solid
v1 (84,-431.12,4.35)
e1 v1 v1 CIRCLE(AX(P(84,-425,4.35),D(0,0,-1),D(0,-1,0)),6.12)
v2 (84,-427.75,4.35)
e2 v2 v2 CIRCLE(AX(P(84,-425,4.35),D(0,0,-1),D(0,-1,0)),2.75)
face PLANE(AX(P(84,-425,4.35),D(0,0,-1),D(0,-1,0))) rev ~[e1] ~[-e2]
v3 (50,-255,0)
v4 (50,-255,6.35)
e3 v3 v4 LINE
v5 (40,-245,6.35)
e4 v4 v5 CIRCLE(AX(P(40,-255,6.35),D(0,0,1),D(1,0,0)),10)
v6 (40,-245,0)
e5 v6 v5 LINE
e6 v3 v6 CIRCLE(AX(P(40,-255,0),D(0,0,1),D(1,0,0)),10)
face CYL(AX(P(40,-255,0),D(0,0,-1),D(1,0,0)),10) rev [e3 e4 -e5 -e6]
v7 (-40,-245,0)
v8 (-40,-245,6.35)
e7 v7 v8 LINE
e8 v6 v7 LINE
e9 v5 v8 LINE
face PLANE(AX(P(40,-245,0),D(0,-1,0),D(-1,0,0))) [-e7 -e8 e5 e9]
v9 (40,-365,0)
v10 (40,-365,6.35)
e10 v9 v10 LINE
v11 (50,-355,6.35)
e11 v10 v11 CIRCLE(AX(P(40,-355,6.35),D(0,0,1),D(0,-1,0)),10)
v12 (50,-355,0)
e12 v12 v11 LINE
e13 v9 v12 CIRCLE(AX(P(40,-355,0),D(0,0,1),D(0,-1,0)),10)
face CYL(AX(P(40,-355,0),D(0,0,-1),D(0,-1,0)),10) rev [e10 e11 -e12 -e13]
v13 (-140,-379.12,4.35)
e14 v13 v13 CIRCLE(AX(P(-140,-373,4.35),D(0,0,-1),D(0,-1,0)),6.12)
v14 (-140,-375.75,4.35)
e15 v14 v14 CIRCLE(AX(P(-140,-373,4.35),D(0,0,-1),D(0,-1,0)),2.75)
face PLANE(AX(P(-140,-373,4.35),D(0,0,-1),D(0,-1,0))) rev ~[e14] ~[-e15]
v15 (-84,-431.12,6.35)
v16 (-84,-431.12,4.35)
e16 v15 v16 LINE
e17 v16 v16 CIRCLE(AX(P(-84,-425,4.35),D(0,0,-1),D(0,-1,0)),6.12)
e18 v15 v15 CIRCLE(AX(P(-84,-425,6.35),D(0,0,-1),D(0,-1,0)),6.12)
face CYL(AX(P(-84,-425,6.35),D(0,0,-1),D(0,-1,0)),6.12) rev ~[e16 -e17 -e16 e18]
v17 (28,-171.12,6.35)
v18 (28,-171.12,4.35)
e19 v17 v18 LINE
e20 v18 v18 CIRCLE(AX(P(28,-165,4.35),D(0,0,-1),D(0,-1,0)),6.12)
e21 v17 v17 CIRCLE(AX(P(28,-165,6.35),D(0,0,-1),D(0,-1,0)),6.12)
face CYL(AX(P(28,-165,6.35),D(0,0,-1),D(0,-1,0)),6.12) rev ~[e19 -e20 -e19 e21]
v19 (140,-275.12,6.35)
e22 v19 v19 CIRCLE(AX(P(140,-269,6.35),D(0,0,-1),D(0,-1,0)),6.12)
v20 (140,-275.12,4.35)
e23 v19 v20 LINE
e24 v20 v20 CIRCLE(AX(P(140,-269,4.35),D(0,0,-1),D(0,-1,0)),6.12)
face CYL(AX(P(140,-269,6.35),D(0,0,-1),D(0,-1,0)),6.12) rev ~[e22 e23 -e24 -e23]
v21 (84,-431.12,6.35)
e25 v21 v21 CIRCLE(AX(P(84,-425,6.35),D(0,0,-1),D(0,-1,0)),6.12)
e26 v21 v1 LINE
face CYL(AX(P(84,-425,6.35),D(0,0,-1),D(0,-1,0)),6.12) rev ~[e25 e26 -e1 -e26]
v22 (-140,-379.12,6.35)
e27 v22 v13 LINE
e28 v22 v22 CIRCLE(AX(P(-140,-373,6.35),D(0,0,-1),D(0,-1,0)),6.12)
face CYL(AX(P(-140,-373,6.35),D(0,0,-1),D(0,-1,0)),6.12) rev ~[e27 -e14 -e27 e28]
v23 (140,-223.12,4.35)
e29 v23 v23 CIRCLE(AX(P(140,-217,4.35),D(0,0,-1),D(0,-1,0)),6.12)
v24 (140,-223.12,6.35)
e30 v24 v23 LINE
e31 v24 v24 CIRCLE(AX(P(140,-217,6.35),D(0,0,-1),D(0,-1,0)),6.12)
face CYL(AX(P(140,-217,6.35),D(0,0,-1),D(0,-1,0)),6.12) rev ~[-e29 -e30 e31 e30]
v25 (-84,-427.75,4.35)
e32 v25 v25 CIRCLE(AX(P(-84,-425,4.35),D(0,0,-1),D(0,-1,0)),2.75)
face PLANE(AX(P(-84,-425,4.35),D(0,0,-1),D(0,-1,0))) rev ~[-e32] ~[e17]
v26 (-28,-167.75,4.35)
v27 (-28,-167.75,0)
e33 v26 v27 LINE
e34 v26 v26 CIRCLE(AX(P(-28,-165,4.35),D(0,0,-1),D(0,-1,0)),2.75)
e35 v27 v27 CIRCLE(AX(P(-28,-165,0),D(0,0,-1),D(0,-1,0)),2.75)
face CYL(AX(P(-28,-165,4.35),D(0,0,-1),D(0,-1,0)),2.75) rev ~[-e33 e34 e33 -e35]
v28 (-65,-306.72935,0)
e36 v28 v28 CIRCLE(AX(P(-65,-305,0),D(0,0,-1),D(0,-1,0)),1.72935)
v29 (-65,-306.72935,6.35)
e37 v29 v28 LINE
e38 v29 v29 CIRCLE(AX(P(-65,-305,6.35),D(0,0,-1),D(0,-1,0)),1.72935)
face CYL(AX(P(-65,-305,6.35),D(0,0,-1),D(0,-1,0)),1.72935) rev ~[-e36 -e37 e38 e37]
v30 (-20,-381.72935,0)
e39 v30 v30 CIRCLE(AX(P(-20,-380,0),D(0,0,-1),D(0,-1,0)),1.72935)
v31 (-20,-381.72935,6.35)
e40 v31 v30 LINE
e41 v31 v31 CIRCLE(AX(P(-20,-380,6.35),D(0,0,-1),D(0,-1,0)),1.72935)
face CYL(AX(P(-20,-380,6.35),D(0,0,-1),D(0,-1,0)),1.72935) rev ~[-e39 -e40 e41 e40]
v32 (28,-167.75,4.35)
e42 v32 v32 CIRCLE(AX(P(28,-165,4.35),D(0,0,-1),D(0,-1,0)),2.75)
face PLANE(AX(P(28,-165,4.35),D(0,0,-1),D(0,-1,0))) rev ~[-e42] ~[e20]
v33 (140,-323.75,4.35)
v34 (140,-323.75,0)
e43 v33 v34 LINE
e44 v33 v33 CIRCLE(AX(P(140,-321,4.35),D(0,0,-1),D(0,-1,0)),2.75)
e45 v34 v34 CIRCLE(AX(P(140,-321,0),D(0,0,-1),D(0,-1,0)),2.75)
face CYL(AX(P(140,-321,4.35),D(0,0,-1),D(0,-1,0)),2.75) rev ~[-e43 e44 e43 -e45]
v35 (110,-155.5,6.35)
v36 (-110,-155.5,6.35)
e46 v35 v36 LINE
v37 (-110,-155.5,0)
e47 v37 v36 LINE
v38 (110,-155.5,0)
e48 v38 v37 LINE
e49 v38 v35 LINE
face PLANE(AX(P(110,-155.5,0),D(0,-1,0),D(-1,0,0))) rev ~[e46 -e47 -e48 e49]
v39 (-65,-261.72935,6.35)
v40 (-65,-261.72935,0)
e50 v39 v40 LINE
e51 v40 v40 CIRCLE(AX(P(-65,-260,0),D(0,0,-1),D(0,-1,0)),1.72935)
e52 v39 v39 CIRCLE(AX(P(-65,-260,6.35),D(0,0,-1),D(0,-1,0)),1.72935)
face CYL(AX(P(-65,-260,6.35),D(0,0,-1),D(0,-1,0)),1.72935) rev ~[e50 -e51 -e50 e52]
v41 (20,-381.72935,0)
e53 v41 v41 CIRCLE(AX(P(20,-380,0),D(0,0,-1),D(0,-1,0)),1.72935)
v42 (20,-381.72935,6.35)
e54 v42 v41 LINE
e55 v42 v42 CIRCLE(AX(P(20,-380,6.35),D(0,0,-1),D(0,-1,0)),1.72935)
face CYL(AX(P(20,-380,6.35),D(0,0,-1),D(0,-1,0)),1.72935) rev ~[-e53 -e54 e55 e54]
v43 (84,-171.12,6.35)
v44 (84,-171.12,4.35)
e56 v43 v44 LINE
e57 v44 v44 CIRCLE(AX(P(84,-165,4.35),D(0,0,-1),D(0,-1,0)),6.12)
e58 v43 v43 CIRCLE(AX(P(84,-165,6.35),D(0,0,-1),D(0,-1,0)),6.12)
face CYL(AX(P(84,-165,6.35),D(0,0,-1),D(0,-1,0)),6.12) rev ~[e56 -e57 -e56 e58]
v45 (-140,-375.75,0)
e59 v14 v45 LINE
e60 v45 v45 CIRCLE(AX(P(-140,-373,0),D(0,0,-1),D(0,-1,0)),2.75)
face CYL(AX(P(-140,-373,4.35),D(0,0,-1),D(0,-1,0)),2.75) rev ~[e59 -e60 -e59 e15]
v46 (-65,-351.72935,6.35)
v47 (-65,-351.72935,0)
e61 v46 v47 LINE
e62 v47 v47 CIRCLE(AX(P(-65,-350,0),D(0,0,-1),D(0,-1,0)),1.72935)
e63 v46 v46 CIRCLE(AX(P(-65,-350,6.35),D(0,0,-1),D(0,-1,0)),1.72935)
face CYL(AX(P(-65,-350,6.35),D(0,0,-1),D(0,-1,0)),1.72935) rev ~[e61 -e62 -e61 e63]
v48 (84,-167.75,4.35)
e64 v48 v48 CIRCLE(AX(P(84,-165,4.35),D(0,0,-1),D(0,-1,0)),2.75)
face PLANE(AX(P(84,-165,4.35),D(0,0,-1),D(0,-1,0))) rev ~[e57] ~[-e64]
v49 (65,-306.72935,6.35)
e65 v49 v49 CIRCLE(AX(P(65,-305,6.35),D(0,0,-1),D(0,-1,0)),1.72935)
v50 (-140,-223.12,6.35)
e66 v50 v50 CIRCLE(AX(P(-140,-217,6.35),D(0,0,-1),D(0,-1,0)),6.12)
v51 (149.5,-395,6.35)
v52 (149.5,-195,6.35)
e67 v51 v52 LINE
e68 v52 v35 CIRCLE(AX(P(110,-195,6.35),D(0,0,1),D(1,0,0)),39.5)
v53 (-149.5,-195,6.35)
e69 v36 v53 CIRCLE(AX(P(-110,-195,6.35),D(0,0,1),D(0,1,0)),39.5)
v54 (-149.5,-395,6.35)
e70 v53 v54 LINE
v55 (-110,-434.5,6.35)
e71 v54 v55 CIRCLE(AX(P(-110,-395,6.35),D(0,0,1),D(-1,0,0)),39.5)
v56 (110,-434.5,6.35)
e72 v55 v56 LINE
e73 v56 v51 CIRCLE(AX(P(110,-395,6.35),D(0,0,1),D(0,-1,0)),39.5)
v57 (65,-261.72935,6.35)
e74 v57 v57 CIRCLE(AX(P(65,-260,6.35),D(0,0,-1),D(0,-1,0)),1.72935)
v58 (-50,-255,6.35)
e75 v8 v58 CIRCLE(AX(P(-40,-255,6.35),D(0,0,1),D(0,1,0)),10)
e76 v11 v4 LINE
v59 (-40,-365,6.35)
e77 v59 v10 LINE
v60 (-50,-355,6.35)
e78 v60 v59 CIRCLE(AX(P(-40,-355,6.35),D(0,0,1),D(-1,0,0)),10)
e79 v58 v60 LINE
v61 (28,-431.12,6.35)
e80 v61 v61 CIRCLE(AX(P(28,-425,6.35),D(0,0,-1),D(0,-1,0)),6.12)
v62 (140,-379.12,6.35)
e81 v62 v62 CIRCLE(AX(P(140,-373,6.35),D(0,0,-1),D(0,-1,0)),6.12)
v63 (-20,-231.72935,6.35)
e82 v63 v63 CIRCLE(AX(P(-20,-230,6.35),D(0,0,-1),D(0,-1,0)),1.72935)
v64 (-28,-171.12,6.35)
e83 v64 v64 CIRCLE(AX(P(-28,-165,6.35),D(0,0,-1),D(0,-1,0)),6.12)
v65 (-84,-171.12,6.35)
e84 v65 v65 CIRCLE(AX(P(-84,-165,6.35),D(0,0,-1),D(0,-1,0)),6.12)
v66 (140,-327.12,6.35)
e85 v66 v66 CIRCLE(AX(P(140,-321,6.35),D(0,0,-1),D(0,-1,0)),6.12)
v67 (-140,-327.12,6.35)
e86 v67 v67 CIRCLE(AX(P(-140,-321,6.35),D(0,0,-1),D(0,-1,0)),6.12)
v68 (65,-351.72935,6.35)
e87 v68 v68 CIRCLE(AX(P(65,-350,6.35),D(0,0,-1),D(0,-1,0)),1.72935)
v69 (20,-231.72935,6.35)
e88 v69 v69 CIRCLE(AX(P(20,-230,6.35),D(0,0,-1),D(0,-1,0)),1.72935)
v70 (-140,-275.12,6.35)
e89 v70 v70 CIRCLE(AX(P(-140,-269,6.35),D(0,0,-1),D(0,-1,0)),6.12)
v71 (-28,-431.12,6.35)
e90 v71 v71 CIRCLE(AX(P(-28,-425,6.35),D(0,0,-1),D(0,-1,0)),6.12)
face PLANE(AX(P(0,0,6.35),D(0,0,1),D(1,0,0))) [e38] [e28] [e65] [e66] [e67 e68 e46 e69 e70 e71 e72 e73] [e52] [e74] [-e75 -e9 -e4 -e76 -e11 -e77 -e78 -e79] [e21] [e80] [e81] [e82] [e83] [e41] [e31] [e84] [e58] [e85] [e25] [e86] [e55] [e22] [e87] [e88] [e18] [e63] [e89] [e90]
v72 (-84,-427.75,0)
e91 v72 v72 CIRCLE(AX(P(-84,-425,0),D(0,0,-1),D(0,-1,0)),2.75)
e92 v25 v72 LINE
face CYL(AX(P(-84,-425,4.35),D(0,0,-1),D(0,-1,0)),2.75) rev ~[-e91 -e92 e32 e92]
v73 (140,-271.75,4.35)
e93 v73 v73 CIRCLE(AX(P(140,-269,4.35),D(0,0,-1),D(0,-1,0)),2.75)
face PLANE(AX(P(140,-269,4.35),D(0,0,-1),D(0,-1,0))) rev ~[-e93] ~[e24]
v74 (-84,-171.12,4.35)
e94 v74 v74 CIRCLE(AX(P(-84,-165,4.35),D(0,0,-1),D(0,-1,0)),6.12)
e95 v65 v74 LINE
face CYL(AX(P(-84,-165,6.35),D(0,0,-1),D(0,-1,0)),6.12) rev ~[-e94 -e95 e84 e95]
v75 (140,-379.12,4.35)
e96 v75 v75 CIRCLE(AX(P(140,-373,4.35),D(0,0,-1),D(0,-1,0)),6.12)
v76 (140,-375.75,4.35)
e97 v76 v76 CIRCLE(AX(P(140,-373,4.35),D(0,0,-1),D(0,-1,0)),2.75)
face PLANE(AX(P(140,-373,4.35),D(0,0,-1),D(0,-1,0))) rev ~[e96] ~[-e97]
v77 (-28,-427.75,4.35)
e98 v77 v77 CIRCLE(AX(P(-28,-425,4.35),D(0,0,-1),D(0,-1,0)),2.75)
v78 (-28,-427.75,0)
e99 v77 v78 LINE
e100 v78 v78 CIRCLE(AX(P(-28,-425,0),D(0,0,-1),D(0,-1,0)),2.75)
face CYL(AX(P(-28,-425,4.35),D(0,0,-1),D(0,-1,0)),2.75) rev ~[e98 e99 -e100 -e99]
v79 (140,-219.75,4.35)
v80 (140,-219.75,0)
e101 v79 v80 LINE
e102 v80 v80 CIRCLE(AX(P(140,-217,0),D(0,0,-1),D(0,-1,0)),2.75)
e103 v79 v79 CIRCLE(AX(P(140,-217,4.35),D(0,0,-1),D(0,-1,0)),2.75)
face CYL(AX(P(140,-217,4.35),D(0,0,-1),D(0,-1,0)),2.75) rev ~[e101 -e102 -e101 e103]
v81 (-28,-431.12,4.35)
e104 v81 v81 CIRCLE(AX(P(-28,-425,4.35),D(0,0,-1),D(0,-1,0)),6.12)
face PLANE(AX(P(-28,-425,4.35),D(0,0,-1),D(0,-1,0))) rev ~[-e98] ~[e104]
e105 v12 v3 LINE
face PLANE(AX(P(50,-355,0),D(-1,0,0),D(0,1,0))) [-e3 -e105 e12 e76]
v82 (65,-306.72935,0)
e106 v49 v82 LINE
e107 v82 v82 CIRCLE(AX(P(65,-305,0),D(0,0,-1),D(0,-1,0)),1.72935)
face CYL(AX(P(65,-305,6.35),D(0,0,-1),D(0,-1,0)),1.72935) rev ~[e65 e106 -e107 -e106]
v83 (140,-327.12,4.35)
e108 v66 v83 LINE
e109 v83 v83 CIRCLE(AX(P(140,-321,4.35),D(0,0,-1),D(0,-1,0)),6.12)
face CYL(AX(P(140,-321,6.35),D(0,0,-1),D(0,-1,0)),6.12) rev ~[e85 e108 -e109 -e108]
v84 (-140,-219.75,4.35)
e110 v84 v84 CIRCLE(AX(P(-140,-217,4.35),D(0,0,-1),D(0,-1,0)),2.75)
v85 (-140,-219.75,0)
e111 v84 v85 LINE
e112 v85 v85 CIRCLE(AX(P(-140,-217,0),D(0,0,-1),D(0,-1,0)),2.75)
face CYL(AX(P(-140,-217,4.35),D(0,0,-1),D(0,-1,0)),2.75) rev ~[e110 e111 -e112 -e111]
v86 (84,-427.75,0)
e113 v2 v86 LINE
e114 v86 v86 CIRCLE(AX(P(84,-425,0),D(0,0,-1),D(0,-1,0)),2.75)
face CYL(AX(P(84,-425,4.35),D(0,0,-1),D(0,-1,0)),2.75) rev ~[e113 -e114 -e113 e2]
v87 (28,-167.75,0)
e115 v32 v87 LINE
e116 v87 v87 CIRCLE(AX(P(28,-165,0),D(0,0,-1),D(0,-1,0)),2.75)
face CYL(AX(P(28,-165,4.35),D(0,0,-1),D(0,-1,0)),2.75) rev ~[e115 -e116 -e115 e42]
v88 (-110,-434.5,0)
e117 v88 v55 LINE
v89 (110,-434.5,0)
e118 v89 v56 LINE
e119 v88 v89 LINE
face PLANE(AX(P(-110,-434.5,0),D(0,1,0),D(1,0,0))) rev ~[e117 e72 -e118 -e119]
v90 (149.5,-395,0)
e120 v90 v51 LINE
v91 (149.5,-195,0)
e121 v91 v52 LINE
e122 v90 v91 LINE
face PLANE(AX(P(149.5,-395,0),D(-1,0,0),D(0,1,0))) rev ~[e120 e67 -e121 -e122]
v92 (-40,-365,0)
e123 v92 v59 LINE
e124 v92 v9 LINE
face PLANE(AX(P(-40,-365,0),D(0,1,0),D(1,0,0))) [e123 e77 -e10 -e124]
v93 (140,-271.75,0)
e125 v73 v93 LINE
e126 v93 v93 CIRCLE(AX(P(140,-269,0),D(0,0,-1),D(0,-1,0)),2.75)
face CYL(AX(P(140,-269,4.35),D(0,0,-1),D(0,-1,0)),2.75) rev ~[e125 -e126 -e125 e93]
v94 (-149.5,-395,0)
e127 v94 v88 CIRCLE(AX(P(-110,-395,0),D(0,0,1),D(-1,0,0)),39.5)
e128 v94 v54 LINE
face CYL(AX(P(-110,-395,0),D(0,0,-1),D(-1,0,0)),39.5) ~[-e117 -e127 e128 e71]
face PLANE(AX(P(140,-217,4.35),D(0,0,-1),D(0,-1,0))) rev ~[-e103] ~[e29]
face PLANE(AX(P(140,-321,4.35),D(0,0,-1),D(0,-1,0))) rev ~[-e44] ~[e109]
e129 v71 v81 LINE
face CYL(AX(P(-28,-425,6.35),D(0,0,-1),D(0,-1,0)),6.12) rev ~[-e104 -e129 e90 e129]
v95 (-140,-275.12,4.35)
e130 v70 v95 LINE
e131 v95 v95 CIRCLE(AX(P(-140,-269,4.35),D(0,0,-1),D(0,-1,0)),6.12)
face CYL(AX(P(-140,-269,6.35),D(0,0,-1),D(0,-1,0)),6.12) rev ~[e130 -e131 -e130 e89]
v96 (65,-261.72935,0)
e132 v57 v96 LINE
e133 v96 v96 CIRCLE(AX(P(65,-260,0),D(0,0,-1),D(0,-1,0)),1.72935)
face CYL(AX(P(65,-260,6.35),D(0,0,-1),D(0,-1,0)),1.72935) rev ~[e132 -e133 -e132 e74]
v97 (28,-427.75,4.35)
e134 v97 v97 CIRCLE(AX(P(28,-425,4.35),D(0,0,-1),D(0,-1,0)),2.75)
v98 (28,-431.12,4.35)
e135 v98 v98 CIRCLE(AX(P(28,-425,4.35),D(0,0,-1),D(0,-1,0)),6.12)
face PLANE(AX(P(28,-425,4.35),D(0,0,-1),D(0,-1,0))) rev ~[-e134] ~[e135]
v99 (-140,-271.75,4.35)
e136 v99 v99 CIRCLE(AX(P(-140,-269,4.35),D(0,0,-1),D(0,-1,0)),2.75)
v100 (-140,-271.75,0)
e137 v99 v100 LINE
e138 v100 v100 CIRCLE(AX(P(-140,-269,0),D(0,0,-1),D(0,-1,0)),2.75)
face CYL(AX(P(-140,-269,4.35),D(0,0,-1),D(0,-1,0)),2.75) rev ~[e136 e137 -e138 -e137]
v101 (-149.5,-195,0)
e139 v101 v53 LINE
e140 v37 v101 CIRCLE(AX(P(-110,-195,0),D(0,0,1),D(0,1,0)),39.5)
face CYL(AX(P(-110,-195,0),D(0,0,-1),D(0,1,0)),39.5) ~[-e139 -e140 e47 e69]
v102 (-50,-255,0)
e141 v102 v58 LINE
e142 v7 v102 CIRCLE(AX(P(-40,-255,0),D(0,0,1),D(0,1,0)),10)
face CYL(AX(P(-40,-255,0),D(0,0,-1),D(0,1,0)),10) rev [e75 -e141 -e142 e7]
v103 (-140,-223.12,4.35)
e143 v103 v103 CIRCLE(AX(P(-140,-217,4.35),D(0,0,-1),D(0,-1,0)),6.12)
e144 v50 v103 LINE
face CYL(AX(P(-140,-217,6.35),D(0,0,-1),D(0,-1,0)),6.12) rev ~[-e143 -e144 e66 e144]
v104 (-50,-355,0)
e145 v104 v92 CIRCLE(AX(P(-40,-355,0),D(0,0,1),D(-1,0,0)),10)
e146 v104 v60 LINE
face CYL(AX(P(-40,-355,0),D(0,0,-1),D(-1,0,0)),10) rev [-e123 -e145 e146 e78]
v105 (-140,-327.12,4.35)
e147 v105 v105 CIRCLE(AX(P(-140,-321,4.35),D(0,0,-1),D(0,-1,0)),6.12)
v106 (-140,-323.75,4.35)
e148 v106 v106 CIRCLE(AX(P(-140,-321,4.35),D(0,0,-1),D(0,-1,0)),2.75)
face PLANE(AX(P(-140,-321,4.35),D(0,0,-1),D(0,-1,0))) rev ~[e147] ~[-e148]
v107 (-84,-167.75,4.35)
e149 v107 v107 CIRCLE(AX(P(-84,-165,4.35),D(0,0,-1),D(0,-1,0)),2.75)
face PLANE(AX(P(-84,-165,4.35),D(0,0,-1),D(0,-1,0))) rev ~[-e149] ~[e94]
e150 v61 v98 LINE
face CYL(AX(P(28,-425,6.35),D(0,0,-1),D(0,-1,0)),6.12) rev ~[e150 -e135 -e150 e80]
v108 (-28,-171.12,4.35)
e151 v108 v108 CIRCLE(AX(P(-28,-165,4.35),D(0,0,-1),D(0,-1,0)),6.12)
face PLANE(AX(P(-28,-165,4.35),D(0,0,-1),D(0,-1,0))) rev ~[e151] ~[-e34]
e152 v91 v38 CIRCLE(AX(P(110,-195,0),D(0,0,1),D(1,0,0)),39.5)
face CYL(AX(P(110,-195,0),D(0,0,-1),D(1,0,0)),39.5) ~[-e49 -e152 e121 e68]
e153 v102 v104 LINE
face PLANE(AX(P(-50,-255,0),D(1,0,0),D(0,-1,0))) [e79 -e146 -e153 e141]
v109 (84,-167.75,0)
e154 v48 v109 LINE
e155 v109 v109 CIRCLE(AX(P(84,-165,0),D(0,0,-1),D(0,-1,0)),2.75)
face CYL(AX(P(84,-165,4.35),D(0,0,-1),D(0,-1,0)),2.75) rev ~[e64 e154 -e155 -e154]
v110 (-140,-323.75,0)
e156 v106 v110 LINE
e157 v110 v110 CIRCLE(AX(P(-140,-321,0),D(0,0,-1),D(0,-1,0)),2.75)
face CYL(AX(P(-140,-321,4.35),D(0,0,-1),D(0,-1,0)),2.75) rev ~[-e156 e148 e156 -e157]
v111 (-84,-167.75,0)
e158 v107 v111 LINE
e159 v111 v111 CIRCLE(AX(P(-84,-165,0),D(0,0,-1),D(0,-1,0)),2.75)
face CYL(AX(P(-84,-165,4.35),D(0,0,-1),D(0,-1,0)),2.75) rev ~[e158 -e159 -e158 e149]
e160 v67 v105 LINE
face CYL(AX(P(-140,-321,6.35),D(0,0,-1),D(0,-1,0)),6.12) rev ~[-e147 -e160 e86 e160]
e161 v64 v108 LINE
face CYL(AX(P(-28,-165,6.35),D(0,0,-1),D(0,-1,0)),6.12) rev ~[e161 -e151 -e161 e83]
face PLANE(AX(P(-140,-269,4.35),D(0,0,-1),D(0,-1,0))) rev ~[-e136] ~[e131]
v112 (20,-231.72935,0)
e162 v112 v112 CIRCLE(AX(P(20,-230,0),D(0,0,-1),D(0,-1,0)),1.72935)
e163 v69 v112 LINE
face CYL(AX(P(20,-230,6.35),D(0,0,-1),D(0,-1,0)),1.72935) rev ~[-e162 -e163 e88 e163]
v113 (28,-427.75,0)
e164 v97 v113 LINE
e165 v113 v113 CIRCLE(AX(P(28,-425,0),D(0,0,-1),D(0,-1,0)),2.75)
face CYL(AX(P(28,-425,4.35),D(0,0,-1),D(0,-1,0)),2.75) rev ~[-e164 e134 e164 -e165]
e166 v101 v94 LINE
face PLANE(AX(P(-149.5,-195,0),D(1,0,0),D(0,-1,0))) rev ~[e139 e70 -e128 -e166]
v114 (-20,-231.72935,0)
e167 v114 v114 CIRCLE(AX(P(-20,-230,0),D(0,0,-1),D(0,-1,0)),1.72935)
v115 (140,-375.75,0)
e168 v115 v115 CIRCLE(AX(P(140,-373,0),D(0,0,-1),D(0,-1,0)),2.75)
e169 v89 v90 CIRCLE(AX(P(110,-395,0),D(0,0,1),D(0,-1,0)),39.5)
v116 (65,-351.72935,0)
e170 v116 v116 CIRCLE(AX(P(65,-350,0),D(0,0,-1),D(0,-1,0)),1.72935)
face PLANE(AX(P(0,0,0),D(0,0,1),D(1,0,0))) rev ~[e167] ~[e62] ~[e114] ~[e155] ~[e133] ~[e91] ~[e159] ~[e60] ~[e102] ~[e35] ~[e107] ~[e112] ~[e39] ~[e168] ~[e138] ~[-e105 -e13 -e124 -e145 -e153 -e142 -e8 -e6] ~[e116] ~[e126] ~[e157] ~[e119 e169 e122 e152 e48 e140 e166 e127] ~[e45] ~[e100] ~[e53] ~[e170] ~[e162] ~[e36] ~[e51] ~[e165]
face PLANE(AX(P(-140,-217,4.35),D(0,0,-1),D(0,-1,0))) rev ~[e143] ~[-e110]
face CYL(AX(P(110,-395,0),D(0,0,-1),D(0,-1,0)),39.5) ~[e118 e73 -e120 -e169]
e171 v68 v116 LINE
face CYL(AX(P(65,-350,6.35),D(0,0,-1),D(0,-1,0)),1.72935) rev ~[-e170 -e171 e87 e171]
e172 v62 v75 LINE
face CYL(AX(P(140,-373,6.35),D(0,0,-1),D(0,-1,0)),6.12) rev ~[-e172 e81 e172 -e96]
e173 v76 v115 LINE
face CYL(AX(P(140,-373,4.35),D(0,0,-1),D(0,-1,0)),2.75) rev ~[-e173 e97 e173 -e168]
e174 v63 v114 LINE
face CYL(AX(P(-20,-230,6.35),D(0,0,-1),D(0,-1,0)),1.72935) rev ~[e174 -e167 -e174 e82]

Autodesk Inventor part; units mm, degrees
ref_plane "YZ Plane" through (0, 0, 0) normal (1, 0, 0) x (0, 1, 0)
ref_plane "XZ Plane" through (0, 0, 0) normal (0, 1, 0) x (-1, 0, 0)
ref_plane "Work Plane2" through (0, 0, 0) normal (0, 0, 1) x (1, 0, 0)
sketch "Sketch1" plane through (0, 0, 0) normal (0, 0, 1) x (1, 0, 0)
  line L0 (180, 126) -> (180, 200) projected
  arc A0 (180, 200) -> (175, 205) centre (175, 200) ccw projected
  line L1 (175, 205) -> (-174, 205) projected
  line L2 (-174, -368) -> (-174, 205) projected
  line L3 (-156, -368) -> (-174, -368) projected
  arc A1 (-153, -371) -> (-156, -368) centre (-156, -371) ccw projected
  line L4 (-153, -403) -> (-153, -371) projected
  arc A2 (-156, -406) -> (-153, -403) centre (-156, -403) ccw projected
  line L5 (-180, -406) -> (-156, -406) projected
  line L6 (-180, -406) -> (-180, -480) projected
  arc A3 (-180, -480) -> (-175, -485) centre (-175, -480) ccw projected
  line L7 (-175, -485) -> (174, -485) projected
  line L8 (174, 88) -> (174, -485) projected
  line L9 (156, 88) -> (174, 88) projected
  arc A4 (153, 91) -> (156, 88) centre (156, 91) ccw projected
  line L10 (153, 123) -> (153, 91) projected
  arc A5 (156, 126) -> (153, 123) centre (156, 123) ccw projected
  line L11 (180, 126) -> (156, 126) projected
  circle A6 centre (0, 0) radius 135 projected
  circle A7 centre (82.55, 185) radius 3 projected
  circle A8 centre (-82.55, 185) radius 3 projected
  circle A9 centre (82.55, -460) radius 3 projected
  circle A10 centre (-82.55, -460) radius 3 projected
  line L12 (-149.5, -195) -> (-149.5, -395)
  arc A11 (-149.5, -395) -> (-110, -434.5) centre (-110, -395) ccw
  line L13 (-110, -434.5) -> (110, -434.5)
  arc A12 (110, -434.5) -> (149.5, -395) centre (110, -395) ccw
  line L14 (149.5, -395) -> (149.5, -195)
  arc A13 (149.5, -195) -> (110, -155.5) centre (110, -195) ccw
  line L15 (110, -155.5) -> (-110, -155.5)
  arc A14 (-110, -155.5) -> (-149.5, -195) centre (-110, -195) ccw
  line L16 (40, -245) -> (-40, -245)
  line L17 (-50, -255) -> (-50, -355)
  line L18 (-40, -365) -> (40, -365)
  line L19 (50, -355) -> (50, -255)
  arc A15 (-40, -245) -> (-50, -255) centre (-40, -255) ccw
  arc A16 (50, -255) -> (40, -245) centre (40, -255) ccw
  arc A17 (40, -365) -> (50, -355) centre (40, -355) ccw
  arc A18 (-50, -355) -> (-40, -365) centre (-40, -355) ccw
  point P0 (115, -175)
  point P1 (-50, -365)
  point P2 (-50, -245)
  point P3 (50, -365)
  dimension "d1" = 100
  dimension "d2" = 120
  dimension "d3" = 10
extrude "Extrusion1" add sketch "Sketch1" along normal blind 6.35 contours A14 L15 A13 L14 A12 L13 A11 L12
sketch "Sketch2" plane through (0, 0, 6.35) normal (0, 0, 1) x (1, 0, 0)
  line L0 (180, 126) -> (180, 200) projected
  arc A0 (180, 200) -> (175, 205) centre (175, 200) ccw projected
  line L1 (175, 205) -> (-174, 205) projected
  line L2 (-174, -368) -> (-174, 205) projected
  line L3 (-156, -368) -> (-174, -368) projected
  arc A1 (-153, -371) -> (-156, -368) centre (-156, -371) ccw projected
  line L4 (-153, -403) -> (-153, -371) projected
  arc A2 (-156, -406) -> (-153, -403) centre (-156, -403) ccw projected
  line L5 (-180, -406) -> (-156, -406) projected
  line L6 (-180, -406) -> (-180, -480) projected
  arc A3 (-180, -480) -> (-175, -485) centre (-175, -480) ccw projected
  line L7 (-175, -485) -> (174, -485) projected
  line L8 (174, 88) -> (174, -485) projected
  line L9 (156, 88) -> (174, 88) projected
  arc A4 (153, 91) -> (156, 88) centre (156, 91) ccw projected
  line L10 (153, 123) -> (153, 91) projected
  arc A5 (156, 126) -> (153, 123) centre (156, 123) ccw projected
  line L11 (180, 126) -> (156, 126) projected
  circle A6 centre (0, 0) radius 135 projected
  circle A7 centre (-140, -217) radius 2 projected
  circle A8 centre (-140, -269) radius 2 projected
  circle A9 centre (-140, -321) radius 2 projected
  circle A10 centre (-140, -373) radius 2 projected
  circle A11 centre (-84, -425) radius 2 projected
  circle A12 centre (-28, -425) radius 2 projected
  circle A13 centre (28, -425) radius 2 projected
  circle A14 centre (84, -425) radius 2 projected
  circle A15 centre (140, -373) radius 2 projected
  circle A16 centre (140, -321) radius 2 projected
  circle A17 centre (140, -269) radius 2 projected
  circle A18 centre (140, -217) radius 2 projected
  circle A19 centre (84, -165) radius 2 projected
  circle A20 centre (28, -165) radius 2 projected
  circle A21 centre (-28, -165) radius 2 projected
  circle A22 centre (-84, -165) radius 2 projected
  line L12 (-130, -190) -> (-130, -400) projected
  arc A23 (-115, -175) -> (-130, -190) centre (-115, -190) ccw projected
  line L13 (115, -175) -> (-115, -175) projected
  arc A24 (130, -190) -> (115, -175) centre (115, -190) ccw projected
  line L14 (130, -400) -> (130, -190) projected
  arc A25 (115, -415) -> (130, -400) centre (115, -400) ccw projected
  line L15 (-115, -415) -> (115, -415) projected
  arc A26 (-130, -400) -> (-115, -415) centre (-115, -400) ccw projected
  circle A27 centre (82.55, 185) radius 3 projected
  circle A28 centre (-82.55, 185) radius 3 projected
  circle A29 centre (82.55, -460) radius 3 projected
  circle A30 centre (-82.55, -460) radius 3 projected
hole "Hole1" at (-140, -217, 6.35) at (-84, -165, 6.35) at (-28, -165, 6.35) at (28, -165, 6.35) at (84, -165, 6.35) at (-140, -269, 6.35) at (-140, -321, 6.35) at (-140, -373, 6.35) at (-84, -425, 6.35) at (-28, -425, 6.35) at (28, -425, 6.35) at (84, -425, 6.35) at (140, -373, 6.35) at (140, -321, 6.35) at (140, -269, 6.35) at (140, -217, 6.35) direction (0, 0, -1) diameter 5.5 end through all counterbore diameter 12.24 counterbore depth 2 clearance for "Hex Head Bolt" size "M5" standard "Ansi Metric M Profile"
sketch "Sketch3" plane through (0, 0, 6.35) normal (0, 0, 1) x (1, 0, 0)
  point P0 (0, 0)
  point P1 (-65, -305)
  point P2 (-65, -260)
  point P3 (-65, -350)
  point P4 (65, -305)
  point P5 (65, -260)
  point P6 (65, -350)
  point P7 (-20, -230)
  point P8 (20, -230)
  point P9 (-20, -380)
  point P10 (20, -380)
  dimension "d18" = 45
  dimension "d19" = 45
  dimension "d22" = 45
  dimension "d23" = 45
hole "Hole2" at (-65, -305, 6.35) at (-65, -260, 6.35) at (-65, -350, 6.35) at (65, -305, 6.35) at (65, -260, 6.35) at (65, -350, 6.35) at (-20, -230, 6.35) at (20, -230, 6.35) at (-20, -380, 6.35) at (20, -380, 6.35) direction (0, 0, -1) diameter 3.4587 depth 10.8 tip angle 118 thread size "M4x0.5" class "6H" standard "ANSI Metric M Profile"
properties part number "Reducer Plate" material "Aluminum 6061"
